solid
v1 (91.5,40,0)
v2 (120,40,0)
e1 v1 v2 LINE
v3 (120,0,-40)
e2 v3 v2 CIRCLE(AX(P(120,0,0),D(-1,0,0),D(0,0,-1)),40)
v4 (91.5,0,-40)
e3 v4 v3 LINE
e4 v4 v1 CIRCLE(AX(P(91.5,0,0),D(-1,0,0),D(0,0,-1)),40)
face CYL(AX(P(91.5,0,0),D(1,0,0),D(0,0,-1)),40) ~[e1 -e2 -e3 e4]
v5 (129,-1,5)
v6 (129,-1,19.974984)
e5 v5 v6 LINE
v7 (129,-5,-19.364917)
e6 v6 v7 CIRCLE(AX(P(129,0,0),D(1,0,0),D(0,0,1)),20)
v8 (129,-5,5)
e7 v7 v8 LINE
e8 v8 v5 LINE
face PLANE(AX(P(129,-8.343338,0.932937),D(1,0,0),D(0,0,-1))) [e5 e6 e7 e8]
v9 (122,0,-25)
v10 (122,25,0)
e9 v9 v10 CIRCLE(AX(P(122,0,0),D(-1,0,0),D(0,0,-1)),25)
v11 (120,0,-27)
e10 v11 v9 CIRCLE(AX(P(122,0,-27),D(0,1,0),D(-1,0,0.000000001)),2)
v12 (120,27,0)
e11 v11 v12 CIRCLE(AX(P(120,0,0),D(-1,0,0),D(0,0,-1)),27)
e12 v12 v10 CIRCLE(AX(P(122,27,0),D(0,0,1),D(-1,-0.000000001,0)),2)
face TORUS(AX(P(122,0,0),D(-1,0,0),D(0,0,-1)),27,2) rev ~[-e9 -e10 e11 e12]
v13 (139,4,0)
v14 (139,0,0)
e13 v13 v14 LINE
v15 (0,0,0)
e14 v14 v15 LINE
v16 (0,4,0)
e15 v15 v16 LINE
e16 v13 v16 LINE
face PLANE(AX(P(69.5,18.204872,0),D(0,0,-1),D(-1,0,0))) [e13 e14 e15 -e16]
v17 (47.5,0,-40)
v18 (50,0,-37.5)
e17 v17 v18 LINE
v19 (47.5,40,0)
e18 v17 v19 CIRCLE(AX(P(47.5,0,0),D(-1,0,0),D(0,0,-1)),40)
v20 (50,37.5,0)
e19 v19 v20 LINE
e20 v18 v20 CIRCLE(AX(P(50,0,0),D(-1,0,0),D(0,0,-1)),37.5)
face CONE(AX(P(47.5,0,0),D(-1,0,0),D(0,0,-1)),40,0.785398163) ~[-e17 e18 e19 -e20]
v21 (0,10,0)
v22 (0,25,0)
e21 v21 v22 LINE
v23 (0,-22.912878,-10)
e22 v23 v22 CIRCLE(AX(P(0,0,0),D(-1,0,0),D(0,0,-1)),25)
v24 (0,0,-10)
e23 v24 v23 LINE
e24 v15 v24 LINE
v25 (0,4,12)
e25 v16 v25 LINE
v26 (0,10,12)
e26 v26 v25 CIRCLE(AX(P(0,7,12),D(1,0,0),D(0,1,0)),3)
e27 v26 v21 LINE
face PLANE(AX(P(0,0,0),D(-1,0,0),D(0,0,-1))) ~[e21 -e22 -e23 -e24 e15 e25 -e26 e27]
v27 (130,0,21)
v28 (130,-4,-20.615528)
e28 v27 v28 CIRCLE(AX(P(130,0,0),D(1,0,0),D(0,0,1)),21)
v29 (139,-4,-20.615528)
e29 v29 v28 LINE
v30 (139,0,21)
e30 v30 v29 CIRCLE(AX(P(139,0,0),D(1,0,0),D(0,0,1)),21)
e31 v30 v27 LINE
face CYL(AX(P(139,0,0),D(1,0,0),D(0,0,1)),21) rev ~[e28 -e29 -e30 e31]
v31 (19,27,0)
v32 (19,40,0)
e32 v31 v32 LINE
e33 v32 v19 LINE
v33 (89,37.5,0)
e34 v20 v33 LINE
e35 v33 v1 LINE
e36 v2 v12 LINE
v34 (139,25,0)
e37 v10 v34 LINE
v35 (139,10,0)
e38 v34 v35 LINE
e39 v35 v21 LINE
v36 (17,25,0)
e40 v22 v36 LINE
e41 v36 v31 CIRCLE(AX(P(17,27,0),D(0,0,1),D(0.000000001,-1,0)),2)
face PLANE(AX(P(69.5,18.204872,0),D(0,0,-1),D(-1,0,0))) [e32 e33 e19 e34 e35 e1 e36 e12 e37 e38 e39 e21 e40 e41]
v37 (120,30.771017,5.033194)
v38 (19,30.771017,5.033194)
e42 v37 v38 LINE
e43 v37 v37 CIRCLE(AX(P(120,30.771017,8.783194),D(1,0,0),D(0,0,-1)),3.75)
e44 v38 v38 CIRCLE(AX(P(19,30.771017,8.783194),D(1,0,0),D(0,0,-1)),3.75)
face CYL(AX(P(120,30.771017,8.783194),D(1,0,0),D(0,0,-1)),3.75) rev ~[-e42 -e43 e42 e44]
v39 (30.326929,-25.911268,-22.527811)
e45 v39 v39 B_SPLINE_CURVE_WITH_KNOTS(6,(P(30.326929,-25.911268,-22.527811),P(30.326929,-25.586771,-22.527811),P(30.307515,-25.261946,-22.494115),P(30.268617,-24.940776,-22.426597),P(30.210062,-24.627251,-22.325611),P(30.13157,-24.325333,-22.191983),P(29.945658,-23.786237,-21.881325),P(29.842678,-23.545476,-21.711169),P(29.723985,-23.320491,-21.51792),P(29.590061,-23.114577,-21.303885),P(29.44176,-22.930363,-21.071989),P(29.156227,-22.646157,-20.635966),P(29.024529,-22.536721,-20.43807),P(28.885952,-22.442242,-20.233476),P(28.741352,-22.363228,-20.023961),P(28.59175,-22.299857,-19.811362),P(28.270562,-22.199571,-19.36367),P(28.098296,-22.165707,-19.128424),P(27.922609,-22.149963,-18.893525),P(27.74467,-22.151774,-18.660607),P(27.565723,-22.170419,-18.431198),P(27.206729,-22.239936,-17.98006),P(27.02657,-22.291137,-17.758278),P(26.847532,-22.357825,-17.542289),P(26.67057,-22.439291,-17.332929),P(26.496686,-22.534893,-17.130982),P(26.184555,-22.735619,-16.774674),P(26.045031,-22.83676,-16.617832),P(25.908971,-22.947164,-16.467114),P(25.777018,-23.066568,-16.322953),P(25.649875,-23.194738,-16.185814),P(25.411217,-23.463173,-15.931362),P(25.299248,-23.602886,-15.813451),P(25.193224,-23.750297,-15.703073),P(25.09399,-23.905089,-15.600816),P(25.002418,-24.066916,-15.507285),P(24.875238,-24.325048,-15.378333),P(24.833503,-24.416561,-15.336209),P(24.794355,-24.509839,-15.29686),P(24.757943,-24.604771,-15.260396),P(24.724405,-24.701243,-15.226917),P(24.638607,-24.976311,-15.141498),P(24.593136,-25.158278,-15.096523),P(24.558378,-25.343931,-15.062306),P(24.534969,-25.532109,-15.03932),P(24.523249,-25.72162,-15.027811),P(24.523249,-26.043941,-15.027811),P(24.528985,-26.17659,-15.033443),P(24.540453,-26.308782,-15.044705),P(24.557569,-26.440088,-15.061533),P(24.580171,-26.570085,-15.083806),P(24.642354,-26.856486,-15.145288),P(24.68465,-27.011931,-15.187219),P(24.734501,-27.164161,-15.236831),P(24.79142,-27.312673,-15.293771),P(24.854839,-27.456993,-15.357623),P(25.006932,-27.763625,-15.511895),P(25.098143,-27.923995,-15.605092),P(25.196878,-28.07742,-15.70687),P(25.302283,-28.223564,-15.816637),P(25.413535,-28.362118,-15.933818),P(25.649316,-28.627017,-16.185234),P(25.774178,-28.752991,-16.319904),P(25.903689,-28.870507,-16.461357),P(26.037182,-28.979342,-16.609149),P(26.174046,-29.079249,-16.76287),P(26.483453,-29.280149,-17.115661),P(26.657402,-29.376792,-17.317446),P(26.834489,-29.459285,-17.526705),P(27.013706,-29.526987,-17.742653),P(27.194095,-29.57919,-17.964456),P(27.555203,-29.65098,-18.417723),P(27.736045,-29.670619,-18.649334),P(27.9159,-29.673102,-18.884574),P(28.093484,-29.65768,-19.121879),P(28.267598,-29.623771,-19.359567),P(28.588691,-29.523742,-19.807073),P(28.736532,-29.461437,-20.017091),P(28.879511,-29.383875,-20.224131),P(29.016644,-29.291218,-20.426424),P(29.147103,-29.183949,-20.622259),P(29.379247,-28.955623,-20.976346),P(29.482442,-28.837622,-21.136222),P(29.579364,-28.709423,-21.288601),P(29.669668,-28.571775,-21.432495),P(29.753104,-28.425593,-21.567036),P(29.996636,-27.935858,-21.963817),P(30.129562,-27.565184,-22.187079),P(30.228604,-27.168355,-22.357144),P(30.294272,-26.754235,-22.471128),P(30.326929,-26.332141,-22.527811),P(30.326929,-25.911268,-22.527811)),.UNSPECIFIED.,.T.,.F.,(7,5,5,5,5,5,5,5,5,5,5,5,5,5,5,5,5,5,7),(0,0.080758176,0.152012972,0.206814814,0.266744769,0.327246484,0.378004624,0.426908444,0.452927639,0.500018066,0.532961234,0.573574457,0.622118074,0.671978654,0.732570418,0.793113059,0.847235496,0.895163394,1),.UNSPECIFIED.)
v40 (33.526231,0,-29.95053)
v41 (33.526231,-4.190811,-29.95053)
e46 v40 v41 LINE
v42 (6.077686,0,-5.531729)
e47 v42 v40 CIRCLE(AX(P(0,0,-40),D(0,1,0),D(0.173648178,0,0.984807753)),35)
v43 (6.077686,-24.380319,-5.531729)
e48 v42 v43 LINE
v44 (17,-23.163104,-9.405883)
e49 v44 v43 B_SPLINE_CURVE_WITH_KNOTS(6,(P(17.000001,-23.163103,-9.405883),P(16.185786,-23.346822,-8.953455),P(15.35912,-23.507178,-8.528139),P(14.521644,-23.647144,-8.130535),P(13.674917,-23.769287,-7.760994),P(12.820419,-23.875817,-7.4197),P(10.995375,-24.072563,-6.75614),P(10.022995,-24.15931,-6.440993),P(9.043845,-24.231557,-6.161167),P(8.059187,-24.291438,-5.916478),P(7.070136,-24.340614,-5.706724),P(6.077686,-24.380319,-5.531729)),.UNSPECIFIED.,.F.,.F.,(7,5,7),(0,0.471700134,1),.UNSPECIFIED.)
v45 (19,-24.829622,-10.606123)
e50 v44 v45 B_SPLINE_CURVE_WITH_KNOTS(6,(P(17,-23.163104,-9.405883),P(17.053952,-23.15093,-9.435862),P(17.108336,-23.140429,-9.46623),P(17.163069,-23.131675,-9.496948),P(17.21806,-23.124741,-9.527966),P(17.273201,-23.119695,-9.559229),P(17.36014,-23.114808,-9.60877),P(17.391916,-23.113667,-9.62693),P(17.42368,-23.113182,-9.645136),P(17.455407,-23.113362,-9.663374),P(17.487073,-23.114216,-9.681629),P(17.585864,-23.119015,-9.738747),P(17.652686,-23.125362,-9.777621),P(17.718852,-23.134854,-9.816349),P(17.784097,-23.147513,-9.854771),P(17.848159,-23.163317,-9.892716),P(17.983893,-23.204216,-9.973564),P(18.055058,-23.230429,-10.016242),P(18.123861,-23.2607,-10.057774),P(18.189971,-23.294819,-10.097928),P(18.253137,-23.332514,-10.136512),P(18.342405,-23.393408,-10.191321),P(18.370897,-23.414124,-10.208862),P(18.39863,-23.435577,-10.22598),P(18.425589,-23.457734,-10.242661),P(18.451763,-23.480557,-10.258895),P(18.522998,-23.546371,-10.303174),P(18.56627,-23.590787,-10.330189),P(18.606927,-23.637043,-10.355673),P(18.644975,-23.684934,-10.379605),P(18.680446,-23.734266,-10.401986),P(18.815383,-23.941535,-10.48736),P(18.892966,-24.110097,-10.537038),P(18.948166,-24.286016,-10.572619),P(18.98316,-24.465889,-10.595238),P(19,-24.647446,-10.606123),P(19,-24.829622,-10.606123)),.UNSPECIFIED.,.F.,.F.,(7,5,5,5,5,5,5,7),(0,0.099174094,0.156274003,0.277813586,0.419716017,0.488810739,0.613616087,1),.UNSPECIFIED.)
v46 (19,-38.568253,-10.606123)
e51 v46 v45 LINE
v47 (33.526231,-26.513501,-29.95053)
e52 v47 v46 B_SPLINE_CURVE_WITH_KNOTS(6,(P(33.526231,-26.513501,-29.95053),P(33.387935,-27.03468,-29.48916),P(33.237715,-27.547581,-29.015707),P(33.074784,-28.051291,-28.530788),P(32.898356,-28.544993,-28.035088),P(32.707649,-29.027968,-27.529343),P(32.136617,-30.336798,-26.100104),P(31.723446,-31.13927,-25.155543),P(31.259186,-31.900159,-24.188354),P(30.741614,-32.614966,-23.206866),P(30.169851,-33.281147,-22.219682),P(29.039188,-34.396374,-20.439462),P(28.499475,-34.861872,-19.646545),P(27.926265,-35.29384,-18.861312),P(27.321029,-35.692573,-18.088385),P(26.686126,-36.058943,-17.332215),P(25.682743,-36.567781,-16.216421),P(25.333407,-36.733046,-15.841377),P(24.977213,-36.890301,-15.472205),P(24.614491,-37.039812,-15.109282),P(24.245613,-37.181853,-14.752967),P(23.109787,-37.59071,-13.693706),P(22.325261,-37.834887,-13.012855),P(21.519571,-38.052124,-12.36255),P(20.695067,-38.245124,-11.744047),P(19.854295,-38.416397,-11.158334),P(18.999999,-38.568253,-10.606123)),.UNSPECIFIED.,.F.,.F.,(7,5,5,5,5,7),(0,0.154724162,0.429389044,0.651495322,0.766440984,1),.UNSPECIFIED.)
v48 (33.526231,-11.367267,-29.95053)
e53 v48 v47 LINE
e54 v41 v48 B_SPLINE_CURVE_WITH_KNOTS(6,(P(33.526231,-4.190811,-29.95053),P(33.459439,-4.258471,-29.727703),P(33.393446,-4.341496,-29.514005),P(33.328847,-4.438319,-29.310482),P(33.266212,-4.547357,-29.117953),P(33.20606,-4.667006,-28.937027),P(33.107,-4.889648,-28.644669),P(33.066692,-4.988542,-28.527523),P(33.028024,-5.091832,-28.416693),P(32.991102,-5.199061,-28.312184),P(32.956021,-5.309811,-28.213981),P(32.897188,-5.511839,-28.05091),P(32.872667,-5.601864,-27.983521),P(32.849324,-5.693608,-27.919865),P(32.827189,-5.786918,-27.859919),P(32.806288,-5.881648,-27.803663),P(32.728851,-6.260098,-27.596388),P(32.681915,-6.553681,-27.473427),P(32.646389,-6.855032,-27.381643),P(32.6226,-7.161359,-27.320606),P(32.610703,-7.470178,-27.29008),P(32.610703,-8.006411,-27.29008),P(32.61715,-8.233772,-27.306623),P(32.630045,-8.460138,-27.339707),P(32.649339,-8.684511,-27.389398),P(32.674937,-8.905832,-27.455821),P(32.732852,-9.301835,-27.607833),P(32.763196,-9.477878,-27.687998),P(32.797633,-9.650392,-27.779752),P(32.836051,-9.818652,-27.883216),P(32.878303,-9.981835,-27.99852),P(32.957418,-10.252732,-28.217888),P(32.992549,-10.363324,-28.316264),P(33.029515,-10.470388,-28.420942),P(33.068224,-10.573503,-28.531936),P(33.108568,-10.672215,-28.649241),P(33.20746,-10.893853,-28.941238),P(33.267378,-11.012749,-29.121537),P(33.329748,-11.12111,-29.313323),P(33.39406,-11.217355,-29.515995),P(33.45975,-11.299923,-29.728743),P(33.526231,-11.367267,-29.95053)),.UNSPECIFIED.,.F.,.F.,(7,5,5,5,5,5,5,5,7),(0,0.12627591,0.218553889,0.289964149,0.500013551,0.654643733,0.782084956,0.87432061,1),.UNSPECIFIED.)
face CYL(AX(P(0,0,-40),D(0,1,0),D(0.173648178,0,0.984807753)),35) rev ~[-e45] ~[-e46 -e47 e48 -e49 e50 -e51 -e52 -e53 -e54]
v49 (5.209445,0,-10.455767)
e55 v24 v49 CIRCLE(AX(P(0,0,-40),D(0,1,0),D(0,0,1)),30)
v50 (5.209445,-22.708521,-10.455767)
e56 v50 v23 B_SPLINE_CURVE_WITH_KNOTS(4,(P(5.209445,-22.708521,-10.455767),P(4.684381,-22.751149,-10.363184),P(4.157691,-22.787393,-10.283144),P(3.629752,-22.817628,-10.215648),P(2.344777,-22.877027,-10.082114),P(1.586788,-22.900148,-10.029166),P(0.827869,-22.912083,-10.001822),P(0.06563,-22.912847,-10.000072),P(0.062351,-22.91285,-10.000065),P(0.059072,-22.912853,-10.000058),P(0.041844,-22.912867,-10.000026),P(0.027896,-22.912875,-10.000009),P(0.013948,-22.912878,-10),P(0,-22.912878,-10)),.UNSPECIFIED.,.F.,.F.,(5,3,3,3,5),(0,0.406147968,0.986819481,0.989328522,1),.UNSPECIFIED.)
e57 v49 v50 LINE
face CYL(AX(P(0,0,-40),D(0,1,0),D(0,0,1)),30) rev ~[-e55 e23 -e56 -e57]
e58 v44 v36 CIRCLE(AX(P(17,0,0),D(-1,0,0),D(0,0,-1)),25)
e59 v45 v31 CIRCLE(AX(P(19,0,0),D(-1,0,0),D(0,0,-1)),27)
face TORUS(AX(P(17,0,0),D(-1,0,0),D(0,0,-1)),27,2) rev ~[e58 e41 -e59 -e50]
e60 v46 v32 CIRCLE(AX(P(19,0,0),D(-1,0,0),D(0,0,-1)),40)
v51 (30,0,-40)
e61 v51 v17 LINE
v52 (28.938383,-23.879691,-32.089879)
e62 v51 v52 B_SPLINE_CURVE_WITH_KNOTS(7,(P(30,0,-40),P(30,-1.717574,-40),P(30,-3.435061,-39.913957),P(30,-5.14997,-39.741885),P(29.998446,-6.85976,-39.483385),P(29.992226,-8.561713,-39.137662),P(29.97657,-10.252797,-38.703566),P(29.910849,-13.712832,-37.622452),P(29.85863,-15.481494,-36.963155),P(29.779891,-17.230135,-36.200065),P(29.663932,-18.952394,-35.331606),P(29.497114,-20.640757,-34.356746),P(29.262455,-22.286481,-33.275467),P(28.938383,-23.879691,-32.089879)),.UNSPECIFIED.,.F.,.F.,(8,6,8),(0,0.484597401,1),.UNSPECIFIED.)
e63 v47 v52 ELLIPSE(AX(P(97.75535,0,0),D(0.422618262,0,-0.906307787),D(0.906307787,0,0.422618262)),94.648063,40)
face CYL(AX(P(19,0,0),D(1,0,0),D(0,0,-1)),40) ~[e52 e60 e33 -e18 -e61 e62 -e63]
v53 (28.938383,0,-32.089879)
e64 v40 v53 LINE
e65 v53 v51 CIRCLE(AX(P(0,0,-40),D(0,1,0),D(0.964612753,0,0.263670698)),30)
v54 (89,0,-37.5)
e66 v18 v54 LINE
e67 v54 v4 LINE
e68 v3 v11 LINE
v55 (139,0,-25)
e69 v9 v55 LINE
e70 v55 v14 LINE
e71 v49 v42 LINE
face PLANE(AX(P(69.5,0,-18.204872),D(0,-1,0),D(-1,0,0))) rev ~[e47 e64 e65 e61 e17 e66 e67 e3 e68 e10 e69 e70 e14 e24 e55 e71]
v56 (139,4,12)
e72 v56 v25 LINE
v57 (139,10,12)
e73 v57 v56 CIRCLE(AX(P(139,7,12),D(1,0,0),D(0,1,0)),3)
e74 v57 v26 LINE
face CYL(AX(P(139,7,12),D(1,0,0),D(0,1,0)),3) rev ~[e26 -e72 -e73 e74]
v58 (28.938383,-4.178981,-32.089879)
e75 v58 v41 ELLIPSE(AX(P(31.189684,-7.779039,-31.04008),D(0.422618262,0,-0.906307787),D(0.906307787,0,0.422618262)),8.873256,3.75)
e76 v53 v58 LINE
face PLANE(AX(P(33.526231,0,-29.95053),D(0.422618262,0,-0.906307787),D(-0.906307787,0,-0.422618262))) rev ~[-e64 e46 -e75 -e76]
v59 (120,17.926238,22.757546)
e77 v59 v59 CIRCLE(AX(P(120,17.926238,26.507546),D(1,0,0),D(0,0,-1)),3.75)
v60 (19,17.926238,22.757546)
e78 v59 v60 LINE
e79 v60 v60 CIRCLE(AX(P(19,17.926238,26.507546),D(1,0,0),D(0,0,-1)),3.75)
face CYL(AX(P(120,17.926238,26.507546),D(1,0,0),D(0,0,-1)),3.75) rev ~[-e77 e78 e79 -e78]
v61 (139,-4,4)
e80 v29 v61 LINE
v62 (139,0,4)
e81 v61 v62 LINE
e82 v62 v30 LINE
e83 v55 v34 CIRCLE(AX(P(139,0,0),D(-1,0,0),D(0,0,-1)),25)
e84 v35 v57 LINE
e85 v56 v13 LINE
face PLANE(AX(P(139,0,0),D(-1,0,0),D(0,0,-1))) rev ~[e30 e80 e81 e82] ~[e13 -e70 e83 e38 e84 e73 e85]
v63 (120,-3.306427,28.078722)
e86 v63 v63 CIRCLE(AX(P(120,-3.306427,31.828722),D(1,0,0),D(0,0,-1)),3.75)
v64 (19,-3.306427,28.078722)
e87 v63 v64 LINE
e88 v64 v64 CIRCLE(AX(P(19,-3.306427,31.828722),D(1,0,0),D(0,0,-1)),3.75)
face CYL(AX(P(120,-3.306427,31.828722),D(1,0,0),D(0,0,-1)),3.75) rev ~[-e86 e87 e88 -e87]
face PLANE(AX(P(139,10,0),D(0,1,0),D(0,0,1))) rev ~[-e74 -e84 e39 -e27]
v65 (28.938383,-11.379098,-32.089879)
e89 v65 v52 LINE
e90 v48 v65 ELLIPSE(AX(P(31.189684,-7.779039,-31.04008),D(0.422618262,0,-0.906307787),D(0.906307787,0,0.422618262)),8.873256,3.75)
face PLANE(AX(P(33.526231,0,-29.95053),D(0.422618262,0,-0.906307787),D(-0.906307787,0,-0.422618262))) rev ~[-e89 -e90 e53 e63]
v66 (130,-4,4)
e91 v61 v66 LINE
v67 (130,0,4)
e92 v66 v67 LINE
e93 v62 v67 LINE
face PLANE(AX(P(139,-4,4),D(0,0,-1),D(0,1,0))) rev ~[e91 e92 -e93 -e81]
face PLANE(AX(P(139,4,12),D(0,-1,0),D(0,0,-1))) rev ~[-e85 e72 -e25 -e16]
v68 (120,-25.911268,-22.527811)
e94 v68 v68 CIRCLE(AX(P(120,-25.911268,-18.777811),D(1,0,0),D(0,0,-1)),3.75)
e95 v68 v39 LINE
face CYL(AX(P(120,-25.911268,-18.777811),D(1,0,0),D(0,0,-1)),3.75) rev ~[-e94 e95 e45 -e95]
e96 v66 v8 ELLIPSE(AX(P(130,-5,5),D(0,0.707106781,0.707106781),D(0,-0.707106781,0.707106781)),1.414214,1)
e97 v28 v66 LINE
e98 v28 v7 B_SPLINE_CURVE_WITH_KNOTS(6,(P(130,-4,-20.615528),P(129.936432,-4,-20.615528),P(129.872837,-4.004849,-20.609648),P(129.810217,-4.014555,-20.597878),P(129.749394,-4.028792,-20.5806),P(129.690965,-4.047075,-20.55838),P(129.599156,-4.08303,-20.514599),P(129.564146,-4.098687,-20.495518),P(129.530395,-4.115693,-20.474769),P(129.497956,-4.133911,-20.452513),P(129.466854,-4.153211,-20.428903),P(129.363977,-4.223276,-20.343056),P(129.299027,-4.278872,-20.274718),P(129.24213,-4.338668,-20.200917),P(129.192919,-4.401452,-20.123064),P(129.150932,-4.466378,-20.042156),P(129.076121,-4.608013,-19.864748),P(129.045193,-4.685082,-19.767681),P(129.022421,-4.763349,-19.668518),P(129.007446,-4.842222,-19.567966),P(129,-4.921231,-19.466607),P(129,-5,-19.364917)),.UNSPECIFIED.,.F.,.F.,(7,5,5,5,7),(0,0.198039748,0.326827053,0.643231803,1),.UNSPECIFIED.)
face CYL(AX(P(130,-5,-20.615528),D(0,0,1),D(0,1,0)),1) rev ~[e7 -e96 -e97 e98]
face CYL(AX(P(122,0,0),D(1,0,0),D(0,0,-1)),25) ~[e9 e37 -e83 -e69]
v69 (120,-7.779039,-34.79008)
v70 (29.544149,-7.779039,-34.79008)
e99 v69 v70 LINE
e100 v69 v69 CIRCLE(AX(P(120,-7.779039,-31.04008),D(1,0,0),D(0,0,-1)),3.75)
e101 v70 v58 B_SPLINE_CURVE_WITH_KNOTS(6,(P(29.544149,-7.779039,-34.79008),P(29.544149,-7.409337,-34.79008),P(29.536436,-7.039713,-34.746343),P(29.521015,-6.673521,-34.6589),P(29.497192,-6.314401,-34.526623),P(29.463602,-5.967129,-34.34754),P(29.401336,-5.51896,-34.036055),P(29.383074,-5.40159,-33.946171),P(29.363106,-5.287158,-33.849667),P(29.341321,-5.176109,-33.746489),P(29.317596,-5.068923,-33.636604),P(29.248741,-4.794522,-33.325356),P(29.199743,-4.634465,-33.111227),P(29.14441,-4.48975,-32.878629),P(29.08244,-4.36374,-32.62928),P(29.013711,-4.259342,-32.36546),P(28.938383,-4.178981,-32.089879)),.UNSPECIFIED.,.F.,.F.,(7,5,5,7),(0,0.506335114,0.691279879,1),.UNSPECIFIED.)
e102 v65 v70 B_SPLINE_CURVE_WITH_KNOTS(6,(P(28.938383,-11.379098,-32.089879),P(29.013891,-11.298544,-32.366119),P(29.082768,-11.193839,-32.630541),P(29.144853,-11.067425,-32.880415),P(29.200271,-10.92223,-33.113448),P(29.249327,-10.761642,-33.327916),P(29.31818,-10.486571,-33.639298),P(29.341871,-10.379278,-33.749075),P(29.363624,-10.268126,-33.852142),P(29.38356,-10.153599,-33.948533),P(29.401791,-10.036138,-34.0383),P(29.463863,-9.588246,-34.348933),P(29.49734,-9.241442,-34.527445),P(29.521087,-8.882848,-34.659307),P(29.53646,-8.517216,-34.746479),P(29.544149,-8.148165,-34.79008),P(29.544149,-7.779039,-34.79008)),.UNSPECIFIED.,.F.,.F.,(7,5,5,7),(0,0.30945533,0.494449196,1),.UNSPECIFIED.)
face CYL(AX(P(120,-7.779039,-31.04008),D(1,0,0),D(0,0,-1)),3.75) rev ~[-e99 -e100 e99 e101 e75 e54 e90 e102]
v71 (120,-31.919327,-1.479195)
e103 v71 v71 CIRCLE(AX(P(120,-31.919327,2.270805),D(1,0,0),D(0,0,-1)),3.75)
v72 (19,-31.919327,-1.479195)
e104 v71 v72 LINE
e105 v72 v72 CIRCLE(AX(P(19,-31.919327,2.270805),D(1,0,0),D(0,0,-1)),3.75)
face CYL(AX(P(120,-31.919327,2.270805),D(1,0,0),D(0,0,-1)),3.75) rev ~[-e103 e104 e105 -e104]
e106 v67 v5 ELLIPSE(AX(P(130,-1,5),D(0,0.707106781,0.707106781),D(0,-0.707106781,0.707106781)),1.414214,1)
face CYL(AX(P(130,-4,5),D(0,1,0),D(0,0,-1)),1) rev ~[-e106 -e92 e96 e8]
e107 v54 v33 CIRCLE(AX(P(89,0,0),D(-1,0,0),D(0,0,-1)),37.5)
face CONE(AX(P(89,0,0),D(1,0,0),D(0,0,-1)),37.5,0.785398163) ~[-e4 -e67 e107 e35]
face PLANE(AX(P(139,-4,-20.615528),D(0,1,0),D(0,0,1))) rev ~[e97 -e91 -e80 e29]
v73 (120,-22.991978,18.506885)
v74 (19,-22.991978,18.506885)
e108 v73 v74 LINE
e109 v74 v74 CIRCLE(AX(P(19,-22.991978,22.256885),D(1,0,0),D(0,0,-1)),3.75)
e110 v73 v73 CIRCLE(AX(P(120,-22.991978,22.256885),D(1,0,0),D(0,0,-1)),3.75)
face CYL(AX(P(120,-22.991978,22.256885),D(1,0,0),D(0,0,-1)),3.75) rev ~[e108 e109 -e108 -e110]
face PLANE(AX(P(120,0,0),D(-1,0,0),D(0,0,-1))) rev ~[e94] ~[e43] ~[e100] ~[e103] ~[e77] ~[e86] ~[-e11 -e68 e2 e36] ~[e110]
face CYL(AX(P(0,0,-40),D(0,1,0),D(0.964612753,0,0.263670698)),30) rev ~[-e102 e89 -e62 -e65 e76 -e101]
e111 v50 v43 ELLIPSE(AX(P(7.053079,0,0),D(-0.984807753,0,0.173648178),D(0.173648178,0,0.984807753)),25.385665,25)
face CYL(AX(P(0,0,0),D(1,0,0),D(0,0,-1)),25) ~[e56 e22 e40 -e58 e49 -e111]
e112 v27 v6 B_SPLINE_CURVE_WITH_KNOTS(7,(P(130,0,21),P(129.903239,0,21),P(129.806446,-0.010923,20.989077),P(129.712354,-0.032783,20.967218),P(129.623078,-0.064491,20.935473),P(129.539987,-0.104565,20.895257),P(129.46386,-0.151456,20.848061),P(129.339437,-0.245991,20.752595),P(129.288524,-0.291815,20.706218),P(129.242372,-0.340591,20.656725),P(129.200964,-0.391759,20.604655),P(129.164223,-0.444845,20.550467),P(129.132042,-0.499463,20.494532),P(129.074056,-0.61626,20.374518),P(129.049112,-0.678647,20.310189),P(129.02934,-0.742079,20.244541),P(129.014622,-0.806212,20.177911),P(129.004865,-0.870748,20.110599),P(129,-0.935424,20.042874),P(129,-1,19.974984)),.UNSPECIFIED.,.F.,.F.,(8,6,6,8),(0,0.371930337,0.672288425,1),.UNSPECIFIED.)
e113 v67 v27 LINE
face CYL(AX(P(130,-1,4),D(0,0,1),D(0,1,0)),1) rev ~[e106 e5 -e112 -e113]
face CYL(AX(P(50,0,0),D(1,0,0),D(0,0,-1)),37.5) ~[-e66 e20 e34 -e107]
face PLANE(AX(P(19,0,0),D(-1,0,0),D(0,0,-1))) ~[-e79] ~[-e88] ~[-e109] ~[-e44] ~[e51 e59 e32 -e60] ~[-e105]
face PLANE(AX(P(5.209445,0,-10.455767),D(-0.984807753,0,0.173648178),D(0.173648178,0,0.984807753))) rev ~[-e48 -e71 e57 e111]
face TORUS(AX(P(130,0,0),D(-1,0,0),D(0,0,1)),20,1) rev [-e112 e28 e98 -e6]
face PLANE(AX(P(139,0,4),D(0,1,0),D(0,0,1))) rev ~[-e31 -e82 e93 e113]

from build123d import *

# Parameters (mm, degrees)
REVOLVE2_ANGLE     = 270
CUT_EXTRUDE1_REACH = 141
CUT_EXTRUDE2_REACH = 122
SKETCH3_R          = 3.75
CUT_EXTRUDE3_DEPTH = 41
CUT_EXTRUDE4_DEPTH = 10
FILLET1_R          = 1


with BuildPart() as part:
    # Sketch1 → Revolve2 (revolve)
    with BuildSketch(Plane(origin=(0, 0, 0), x_dir=(1, 0, 0), z_dir=(0, 1, 0))):
        with BuildLine():
            Line((0, 0), (0, 25))
            Line((0, 25), (17, 25))
            ThreePointArc((17, 25), (18.414213562, 25.585786438), (19, 27))
            Line((19, 27), (19, 40))
            Line((19, 40), (47.5, 40))
            Line((47.5, 40), (50, 37.5))
            Line((50, 37.5), (89, 37.5))
            Line((89, 37.5), (91.5, 40))
            Line((91.5, 40), (120, 40))
            Line((120, 40), (120, 27))
            ThreePointArc((120, 27), (120.585786438, 25.585786438), (122, 25))
            Line((122, 25), (139, 25))
            Line((139, 25), (139, 0))
            Line((139, 0), (0, 0))
        make_face()
    revolve(axis=Axis((139, 0, 0), (-1, 0, 0)), revolution_arc=REVOLVE2_ANGLE)

    # Sketch2 → Cut-Extrude1 (cut, up to next)
    with BuildSketch(Plane(origin=(139, 0, 0), x_dir=(0, 0, -1), z_dir=(1, 0, 0)), mode=Mode.PRIVATE) as cut_extrude1_sk1:
        with BuildLine():
            Line((-12, 4), (0, 4))
            Line((0, 4), (0, 10))
            Line((0, 10), (-12, 10))
            ThreePointArc((-12, 10), (-15, 7), (-12, 4))
        make_face()
    cut_extrude1_tool1 = extrude(cut_extrude1_sk1.sketch, amount=-CUT_EXTRUDE1_REACH, mode=Mode.PRIVATE) & part.part
    add(cut_extrude1_tool1.solids().sort_by_distance((139, 7, 7.193712))[0], mode=Mode.SUBTRACT)

    # Sketch3 → Cut-Extrude2 (cut, up to next)
    with BuildSketch(Plane(origin=(120, 0, 0), x_dir=(0, 0, -1), z_dir=(1, 0, 0)), mode=Mode.PRIVATE) as cut_extrude2_sk1:
        with Locations((-8.783194418, 30.77101714)):
            Circle(SKETCH3_R)
    cut_extrude2_tool1 = extrude(cut_extrude2_sk1.sketch, amount=-CUT_EXTRUDE2_REACH, mode=Mode.PRIVATE) & part.part
    add(cut_extrude2_tool1.solids().sort_by_distance((120, 30.771017, 8.783194))[0], mode=Mode.SUBTRACT)
    # Sketch3 → Cut-Extrude2 (cut, up to next)
    with BuildSketch(Plane(origin=(120, 0, 0), x_dir=(0, 0, -1), z_dir=(1, 0, 0)), mode=Mode.PRIVATE) as cut_extrude2_sk2:
        with Locations((31.040079752, -7.779039077)):
            Circle(SKETCH3_R)
    cut_extrude2_tool2 = extrude(cut_extrude2_sk2.sketch, amount=-CUT_EXTRUDE2_REACH, mode=Mode.PRIVATE) & part.part
    add(cut_extrude2_tool2.solids().sort_by_distance((120, -7.779039, -31.04008))[0], mode=Mode.SUBTRACT)
    # Sketch3 → Cut-Extrude2 (cut, up to next)
    with BuildSketch(Plane(origin=(120, 0, 0), x_dir=(0, 0, -1), z_dir=(1, 0, 0)), mode=Mode.PRIVATE) as cut_extrude2_sk3:
        with Locations((18.777810674, -25.911268327)):
            Circle(SKETCH3_R)
    cut_extrude2_tool3 = extrude(cut_extrude2_sk3.sketch, amount=-CUT_EXTRUDE2_REACH, mode=Mode.PRIVATE) & part.part
    add(cut_extrude2_tool3.solids().sort_by_distance((120, -25.911268, -18.777811))[0], mode=Mode.SUBTRACT)
    # Sketch3 → Cut-Extrude2 (cut, up to next)
    with BuildSketch(Plane(origin=(120, 0, 0), x_dir=(0, 0, -1), z_dir=(1, 0, 0)), mode=Mode.PRIVATE) as cut_extrude2_sk4:
        with Locations((-2.270804711, -31.919327154)):
            Circle(SKETCH3_R)
    cut_extrude2_tool4 = extrude(cut_extrude2_sk4.sketch, amount=-CUT_EXTRUDE2_REACH, mode=Mode.PRIVATE) & part.part
    add(cut_extrude2_tool4.solids().sort_by_distance((120, -31.919327, 2.270805))[0], mode=Mode.SUBTRACT)
    # Sketch3 → Cut-Extrude2 (cut, up to next)
    with BuildSketch(Plane(origin=(120, 0, 0), x_dir=(0, 0, -1), z_dir=(1, 0, 0)), mode=Mode.PRIVATE) as cut_extrude2_sk5:
        with Locations((-22.256885334, -22.991978062)):
            Circle(SKETCH3_R)
    cut_extrude2_tool5 = extrude(cut_extrude2_sk5.sketch, amount=-CUT_EXTRUDE2_REACH, mode=Mode.PRIVATE) & part.part
    add(cut_extrude2_tool5.solids().sort_by_distance((120, -22.991978, 22.256885))[0], mode=Mode.SUBTRACT)
    # Sketch3 → Cut-Extrude2 (cut, up to next)
    with BuildSketch(Plane(origin=(120, 0, 0), x_dir=(0, 0, -1), z_dir=(1, 0, 0)), mode=Mode.PRIVATE) as cut_extrude2_sk6:
        with Locations((-31.828721952, -3.306426908)):
            Circle(SKETCH3_R)
    cut_extrude2_tool6 = extrude(cut_extrude2_sk6.sketch, amount=-CUT_EXTRUDE2_REACH, mode=Mode.PRIVATE) & part.part
    add(cut_extrude2_tool6.solids().sort_by_distance((120, -3.306427, 31.828722))[0], mode=Mode.SUBTRACT)
    # Sketch3 → Cut-Extrude2 (cut, up to next)
    with BuildSketch(Plane(origin=(120, 0, 0), x_dir=(0, 0, -1), z_dir=(1, 0, 0)), mode=Mode.PRIVATE) as cut_extrude2_sk7:
        with Locations((-26.507545832, 17.926238144)):
            Circle(SKETCH3_R)
    cut_extrude2_tool7 = extrude(cut_extrude2_sk7.sketch, amount=-CUT_EXTRUDE2_REACH, mode=Mode.PRIVATE) & part.part
    add(cut_extrude2_tool7.solids().sort_by_distance((120, 17.926238, 26.507546))[0], mode=Mode.SUBTRACT)

    # Sketch4 → Cut-Extrude3 (cut, through all)
    with BuildSketch(Plane(origin=(0, 0, 0), x_dir=(1, 0, 0), z_dir=(0, 1, 0))):
        with BuildLine():
            Line((0, 40), (0, 10))
            ThreePointArc((0, 10), (2.614672282, 10.114159057), (5.20944533, 10.45576741))
            Line((5.20944533, 10.45576741), (6.077686218, 5.531728645))
            ThreePointArc((6.077686218, 5.531728645), (23.263426891, 13.850182233), (33.526230894, 29.950530259))
            Line((33.526230894, 29.950530259), (28.938382586, 32.089879059))
            ThreePointArc((28.938382586, 32.089879059), (29.733411153, 36.00947858), (30, 40))
            Line((30, 40), (0, 40))
        make_face()
    extrude(amount=-CUT_EXTRUDE3_DEPTH, mode=Mode.SUBTRACT)

    # Sketch5 → Cut-Extrude4 (cut)
    with BuildSketch(Plane(origin=(139, 0, 0), x_dir=(0, 0, -1), z_dir=(1, 0, 0))):
        with BuildLine():
            Line((-4, 0), (-12, 0))
            Line((-12, 0), (-21, 0))
            ThreePointArc((-21, 0), (-2.009217424, -20.903661051), (20.615528128, -4))
            Line((20.615528128, -4), (0, -4))
            Line((0, -4), (-4, -4))
            Line((-4, -4), (-4, 0))
        make_face()
    extrude(amount=-CUT_EXTRUDE4_DEPTH, mode=Mode.SUBTRACT)

    # Fillet1
    fillet1_edges = [part.edges().sort_by_distance(p)[0] for p in [
        (129, 0, 12.5),
        (129, -4, -8.307764064),
        (129, -20.903661051, 2.009217424),
        (129, -2, 4),
    ]]
    fillet(fillet1_edges, radius=FILLET1_R)


solid = part.part
